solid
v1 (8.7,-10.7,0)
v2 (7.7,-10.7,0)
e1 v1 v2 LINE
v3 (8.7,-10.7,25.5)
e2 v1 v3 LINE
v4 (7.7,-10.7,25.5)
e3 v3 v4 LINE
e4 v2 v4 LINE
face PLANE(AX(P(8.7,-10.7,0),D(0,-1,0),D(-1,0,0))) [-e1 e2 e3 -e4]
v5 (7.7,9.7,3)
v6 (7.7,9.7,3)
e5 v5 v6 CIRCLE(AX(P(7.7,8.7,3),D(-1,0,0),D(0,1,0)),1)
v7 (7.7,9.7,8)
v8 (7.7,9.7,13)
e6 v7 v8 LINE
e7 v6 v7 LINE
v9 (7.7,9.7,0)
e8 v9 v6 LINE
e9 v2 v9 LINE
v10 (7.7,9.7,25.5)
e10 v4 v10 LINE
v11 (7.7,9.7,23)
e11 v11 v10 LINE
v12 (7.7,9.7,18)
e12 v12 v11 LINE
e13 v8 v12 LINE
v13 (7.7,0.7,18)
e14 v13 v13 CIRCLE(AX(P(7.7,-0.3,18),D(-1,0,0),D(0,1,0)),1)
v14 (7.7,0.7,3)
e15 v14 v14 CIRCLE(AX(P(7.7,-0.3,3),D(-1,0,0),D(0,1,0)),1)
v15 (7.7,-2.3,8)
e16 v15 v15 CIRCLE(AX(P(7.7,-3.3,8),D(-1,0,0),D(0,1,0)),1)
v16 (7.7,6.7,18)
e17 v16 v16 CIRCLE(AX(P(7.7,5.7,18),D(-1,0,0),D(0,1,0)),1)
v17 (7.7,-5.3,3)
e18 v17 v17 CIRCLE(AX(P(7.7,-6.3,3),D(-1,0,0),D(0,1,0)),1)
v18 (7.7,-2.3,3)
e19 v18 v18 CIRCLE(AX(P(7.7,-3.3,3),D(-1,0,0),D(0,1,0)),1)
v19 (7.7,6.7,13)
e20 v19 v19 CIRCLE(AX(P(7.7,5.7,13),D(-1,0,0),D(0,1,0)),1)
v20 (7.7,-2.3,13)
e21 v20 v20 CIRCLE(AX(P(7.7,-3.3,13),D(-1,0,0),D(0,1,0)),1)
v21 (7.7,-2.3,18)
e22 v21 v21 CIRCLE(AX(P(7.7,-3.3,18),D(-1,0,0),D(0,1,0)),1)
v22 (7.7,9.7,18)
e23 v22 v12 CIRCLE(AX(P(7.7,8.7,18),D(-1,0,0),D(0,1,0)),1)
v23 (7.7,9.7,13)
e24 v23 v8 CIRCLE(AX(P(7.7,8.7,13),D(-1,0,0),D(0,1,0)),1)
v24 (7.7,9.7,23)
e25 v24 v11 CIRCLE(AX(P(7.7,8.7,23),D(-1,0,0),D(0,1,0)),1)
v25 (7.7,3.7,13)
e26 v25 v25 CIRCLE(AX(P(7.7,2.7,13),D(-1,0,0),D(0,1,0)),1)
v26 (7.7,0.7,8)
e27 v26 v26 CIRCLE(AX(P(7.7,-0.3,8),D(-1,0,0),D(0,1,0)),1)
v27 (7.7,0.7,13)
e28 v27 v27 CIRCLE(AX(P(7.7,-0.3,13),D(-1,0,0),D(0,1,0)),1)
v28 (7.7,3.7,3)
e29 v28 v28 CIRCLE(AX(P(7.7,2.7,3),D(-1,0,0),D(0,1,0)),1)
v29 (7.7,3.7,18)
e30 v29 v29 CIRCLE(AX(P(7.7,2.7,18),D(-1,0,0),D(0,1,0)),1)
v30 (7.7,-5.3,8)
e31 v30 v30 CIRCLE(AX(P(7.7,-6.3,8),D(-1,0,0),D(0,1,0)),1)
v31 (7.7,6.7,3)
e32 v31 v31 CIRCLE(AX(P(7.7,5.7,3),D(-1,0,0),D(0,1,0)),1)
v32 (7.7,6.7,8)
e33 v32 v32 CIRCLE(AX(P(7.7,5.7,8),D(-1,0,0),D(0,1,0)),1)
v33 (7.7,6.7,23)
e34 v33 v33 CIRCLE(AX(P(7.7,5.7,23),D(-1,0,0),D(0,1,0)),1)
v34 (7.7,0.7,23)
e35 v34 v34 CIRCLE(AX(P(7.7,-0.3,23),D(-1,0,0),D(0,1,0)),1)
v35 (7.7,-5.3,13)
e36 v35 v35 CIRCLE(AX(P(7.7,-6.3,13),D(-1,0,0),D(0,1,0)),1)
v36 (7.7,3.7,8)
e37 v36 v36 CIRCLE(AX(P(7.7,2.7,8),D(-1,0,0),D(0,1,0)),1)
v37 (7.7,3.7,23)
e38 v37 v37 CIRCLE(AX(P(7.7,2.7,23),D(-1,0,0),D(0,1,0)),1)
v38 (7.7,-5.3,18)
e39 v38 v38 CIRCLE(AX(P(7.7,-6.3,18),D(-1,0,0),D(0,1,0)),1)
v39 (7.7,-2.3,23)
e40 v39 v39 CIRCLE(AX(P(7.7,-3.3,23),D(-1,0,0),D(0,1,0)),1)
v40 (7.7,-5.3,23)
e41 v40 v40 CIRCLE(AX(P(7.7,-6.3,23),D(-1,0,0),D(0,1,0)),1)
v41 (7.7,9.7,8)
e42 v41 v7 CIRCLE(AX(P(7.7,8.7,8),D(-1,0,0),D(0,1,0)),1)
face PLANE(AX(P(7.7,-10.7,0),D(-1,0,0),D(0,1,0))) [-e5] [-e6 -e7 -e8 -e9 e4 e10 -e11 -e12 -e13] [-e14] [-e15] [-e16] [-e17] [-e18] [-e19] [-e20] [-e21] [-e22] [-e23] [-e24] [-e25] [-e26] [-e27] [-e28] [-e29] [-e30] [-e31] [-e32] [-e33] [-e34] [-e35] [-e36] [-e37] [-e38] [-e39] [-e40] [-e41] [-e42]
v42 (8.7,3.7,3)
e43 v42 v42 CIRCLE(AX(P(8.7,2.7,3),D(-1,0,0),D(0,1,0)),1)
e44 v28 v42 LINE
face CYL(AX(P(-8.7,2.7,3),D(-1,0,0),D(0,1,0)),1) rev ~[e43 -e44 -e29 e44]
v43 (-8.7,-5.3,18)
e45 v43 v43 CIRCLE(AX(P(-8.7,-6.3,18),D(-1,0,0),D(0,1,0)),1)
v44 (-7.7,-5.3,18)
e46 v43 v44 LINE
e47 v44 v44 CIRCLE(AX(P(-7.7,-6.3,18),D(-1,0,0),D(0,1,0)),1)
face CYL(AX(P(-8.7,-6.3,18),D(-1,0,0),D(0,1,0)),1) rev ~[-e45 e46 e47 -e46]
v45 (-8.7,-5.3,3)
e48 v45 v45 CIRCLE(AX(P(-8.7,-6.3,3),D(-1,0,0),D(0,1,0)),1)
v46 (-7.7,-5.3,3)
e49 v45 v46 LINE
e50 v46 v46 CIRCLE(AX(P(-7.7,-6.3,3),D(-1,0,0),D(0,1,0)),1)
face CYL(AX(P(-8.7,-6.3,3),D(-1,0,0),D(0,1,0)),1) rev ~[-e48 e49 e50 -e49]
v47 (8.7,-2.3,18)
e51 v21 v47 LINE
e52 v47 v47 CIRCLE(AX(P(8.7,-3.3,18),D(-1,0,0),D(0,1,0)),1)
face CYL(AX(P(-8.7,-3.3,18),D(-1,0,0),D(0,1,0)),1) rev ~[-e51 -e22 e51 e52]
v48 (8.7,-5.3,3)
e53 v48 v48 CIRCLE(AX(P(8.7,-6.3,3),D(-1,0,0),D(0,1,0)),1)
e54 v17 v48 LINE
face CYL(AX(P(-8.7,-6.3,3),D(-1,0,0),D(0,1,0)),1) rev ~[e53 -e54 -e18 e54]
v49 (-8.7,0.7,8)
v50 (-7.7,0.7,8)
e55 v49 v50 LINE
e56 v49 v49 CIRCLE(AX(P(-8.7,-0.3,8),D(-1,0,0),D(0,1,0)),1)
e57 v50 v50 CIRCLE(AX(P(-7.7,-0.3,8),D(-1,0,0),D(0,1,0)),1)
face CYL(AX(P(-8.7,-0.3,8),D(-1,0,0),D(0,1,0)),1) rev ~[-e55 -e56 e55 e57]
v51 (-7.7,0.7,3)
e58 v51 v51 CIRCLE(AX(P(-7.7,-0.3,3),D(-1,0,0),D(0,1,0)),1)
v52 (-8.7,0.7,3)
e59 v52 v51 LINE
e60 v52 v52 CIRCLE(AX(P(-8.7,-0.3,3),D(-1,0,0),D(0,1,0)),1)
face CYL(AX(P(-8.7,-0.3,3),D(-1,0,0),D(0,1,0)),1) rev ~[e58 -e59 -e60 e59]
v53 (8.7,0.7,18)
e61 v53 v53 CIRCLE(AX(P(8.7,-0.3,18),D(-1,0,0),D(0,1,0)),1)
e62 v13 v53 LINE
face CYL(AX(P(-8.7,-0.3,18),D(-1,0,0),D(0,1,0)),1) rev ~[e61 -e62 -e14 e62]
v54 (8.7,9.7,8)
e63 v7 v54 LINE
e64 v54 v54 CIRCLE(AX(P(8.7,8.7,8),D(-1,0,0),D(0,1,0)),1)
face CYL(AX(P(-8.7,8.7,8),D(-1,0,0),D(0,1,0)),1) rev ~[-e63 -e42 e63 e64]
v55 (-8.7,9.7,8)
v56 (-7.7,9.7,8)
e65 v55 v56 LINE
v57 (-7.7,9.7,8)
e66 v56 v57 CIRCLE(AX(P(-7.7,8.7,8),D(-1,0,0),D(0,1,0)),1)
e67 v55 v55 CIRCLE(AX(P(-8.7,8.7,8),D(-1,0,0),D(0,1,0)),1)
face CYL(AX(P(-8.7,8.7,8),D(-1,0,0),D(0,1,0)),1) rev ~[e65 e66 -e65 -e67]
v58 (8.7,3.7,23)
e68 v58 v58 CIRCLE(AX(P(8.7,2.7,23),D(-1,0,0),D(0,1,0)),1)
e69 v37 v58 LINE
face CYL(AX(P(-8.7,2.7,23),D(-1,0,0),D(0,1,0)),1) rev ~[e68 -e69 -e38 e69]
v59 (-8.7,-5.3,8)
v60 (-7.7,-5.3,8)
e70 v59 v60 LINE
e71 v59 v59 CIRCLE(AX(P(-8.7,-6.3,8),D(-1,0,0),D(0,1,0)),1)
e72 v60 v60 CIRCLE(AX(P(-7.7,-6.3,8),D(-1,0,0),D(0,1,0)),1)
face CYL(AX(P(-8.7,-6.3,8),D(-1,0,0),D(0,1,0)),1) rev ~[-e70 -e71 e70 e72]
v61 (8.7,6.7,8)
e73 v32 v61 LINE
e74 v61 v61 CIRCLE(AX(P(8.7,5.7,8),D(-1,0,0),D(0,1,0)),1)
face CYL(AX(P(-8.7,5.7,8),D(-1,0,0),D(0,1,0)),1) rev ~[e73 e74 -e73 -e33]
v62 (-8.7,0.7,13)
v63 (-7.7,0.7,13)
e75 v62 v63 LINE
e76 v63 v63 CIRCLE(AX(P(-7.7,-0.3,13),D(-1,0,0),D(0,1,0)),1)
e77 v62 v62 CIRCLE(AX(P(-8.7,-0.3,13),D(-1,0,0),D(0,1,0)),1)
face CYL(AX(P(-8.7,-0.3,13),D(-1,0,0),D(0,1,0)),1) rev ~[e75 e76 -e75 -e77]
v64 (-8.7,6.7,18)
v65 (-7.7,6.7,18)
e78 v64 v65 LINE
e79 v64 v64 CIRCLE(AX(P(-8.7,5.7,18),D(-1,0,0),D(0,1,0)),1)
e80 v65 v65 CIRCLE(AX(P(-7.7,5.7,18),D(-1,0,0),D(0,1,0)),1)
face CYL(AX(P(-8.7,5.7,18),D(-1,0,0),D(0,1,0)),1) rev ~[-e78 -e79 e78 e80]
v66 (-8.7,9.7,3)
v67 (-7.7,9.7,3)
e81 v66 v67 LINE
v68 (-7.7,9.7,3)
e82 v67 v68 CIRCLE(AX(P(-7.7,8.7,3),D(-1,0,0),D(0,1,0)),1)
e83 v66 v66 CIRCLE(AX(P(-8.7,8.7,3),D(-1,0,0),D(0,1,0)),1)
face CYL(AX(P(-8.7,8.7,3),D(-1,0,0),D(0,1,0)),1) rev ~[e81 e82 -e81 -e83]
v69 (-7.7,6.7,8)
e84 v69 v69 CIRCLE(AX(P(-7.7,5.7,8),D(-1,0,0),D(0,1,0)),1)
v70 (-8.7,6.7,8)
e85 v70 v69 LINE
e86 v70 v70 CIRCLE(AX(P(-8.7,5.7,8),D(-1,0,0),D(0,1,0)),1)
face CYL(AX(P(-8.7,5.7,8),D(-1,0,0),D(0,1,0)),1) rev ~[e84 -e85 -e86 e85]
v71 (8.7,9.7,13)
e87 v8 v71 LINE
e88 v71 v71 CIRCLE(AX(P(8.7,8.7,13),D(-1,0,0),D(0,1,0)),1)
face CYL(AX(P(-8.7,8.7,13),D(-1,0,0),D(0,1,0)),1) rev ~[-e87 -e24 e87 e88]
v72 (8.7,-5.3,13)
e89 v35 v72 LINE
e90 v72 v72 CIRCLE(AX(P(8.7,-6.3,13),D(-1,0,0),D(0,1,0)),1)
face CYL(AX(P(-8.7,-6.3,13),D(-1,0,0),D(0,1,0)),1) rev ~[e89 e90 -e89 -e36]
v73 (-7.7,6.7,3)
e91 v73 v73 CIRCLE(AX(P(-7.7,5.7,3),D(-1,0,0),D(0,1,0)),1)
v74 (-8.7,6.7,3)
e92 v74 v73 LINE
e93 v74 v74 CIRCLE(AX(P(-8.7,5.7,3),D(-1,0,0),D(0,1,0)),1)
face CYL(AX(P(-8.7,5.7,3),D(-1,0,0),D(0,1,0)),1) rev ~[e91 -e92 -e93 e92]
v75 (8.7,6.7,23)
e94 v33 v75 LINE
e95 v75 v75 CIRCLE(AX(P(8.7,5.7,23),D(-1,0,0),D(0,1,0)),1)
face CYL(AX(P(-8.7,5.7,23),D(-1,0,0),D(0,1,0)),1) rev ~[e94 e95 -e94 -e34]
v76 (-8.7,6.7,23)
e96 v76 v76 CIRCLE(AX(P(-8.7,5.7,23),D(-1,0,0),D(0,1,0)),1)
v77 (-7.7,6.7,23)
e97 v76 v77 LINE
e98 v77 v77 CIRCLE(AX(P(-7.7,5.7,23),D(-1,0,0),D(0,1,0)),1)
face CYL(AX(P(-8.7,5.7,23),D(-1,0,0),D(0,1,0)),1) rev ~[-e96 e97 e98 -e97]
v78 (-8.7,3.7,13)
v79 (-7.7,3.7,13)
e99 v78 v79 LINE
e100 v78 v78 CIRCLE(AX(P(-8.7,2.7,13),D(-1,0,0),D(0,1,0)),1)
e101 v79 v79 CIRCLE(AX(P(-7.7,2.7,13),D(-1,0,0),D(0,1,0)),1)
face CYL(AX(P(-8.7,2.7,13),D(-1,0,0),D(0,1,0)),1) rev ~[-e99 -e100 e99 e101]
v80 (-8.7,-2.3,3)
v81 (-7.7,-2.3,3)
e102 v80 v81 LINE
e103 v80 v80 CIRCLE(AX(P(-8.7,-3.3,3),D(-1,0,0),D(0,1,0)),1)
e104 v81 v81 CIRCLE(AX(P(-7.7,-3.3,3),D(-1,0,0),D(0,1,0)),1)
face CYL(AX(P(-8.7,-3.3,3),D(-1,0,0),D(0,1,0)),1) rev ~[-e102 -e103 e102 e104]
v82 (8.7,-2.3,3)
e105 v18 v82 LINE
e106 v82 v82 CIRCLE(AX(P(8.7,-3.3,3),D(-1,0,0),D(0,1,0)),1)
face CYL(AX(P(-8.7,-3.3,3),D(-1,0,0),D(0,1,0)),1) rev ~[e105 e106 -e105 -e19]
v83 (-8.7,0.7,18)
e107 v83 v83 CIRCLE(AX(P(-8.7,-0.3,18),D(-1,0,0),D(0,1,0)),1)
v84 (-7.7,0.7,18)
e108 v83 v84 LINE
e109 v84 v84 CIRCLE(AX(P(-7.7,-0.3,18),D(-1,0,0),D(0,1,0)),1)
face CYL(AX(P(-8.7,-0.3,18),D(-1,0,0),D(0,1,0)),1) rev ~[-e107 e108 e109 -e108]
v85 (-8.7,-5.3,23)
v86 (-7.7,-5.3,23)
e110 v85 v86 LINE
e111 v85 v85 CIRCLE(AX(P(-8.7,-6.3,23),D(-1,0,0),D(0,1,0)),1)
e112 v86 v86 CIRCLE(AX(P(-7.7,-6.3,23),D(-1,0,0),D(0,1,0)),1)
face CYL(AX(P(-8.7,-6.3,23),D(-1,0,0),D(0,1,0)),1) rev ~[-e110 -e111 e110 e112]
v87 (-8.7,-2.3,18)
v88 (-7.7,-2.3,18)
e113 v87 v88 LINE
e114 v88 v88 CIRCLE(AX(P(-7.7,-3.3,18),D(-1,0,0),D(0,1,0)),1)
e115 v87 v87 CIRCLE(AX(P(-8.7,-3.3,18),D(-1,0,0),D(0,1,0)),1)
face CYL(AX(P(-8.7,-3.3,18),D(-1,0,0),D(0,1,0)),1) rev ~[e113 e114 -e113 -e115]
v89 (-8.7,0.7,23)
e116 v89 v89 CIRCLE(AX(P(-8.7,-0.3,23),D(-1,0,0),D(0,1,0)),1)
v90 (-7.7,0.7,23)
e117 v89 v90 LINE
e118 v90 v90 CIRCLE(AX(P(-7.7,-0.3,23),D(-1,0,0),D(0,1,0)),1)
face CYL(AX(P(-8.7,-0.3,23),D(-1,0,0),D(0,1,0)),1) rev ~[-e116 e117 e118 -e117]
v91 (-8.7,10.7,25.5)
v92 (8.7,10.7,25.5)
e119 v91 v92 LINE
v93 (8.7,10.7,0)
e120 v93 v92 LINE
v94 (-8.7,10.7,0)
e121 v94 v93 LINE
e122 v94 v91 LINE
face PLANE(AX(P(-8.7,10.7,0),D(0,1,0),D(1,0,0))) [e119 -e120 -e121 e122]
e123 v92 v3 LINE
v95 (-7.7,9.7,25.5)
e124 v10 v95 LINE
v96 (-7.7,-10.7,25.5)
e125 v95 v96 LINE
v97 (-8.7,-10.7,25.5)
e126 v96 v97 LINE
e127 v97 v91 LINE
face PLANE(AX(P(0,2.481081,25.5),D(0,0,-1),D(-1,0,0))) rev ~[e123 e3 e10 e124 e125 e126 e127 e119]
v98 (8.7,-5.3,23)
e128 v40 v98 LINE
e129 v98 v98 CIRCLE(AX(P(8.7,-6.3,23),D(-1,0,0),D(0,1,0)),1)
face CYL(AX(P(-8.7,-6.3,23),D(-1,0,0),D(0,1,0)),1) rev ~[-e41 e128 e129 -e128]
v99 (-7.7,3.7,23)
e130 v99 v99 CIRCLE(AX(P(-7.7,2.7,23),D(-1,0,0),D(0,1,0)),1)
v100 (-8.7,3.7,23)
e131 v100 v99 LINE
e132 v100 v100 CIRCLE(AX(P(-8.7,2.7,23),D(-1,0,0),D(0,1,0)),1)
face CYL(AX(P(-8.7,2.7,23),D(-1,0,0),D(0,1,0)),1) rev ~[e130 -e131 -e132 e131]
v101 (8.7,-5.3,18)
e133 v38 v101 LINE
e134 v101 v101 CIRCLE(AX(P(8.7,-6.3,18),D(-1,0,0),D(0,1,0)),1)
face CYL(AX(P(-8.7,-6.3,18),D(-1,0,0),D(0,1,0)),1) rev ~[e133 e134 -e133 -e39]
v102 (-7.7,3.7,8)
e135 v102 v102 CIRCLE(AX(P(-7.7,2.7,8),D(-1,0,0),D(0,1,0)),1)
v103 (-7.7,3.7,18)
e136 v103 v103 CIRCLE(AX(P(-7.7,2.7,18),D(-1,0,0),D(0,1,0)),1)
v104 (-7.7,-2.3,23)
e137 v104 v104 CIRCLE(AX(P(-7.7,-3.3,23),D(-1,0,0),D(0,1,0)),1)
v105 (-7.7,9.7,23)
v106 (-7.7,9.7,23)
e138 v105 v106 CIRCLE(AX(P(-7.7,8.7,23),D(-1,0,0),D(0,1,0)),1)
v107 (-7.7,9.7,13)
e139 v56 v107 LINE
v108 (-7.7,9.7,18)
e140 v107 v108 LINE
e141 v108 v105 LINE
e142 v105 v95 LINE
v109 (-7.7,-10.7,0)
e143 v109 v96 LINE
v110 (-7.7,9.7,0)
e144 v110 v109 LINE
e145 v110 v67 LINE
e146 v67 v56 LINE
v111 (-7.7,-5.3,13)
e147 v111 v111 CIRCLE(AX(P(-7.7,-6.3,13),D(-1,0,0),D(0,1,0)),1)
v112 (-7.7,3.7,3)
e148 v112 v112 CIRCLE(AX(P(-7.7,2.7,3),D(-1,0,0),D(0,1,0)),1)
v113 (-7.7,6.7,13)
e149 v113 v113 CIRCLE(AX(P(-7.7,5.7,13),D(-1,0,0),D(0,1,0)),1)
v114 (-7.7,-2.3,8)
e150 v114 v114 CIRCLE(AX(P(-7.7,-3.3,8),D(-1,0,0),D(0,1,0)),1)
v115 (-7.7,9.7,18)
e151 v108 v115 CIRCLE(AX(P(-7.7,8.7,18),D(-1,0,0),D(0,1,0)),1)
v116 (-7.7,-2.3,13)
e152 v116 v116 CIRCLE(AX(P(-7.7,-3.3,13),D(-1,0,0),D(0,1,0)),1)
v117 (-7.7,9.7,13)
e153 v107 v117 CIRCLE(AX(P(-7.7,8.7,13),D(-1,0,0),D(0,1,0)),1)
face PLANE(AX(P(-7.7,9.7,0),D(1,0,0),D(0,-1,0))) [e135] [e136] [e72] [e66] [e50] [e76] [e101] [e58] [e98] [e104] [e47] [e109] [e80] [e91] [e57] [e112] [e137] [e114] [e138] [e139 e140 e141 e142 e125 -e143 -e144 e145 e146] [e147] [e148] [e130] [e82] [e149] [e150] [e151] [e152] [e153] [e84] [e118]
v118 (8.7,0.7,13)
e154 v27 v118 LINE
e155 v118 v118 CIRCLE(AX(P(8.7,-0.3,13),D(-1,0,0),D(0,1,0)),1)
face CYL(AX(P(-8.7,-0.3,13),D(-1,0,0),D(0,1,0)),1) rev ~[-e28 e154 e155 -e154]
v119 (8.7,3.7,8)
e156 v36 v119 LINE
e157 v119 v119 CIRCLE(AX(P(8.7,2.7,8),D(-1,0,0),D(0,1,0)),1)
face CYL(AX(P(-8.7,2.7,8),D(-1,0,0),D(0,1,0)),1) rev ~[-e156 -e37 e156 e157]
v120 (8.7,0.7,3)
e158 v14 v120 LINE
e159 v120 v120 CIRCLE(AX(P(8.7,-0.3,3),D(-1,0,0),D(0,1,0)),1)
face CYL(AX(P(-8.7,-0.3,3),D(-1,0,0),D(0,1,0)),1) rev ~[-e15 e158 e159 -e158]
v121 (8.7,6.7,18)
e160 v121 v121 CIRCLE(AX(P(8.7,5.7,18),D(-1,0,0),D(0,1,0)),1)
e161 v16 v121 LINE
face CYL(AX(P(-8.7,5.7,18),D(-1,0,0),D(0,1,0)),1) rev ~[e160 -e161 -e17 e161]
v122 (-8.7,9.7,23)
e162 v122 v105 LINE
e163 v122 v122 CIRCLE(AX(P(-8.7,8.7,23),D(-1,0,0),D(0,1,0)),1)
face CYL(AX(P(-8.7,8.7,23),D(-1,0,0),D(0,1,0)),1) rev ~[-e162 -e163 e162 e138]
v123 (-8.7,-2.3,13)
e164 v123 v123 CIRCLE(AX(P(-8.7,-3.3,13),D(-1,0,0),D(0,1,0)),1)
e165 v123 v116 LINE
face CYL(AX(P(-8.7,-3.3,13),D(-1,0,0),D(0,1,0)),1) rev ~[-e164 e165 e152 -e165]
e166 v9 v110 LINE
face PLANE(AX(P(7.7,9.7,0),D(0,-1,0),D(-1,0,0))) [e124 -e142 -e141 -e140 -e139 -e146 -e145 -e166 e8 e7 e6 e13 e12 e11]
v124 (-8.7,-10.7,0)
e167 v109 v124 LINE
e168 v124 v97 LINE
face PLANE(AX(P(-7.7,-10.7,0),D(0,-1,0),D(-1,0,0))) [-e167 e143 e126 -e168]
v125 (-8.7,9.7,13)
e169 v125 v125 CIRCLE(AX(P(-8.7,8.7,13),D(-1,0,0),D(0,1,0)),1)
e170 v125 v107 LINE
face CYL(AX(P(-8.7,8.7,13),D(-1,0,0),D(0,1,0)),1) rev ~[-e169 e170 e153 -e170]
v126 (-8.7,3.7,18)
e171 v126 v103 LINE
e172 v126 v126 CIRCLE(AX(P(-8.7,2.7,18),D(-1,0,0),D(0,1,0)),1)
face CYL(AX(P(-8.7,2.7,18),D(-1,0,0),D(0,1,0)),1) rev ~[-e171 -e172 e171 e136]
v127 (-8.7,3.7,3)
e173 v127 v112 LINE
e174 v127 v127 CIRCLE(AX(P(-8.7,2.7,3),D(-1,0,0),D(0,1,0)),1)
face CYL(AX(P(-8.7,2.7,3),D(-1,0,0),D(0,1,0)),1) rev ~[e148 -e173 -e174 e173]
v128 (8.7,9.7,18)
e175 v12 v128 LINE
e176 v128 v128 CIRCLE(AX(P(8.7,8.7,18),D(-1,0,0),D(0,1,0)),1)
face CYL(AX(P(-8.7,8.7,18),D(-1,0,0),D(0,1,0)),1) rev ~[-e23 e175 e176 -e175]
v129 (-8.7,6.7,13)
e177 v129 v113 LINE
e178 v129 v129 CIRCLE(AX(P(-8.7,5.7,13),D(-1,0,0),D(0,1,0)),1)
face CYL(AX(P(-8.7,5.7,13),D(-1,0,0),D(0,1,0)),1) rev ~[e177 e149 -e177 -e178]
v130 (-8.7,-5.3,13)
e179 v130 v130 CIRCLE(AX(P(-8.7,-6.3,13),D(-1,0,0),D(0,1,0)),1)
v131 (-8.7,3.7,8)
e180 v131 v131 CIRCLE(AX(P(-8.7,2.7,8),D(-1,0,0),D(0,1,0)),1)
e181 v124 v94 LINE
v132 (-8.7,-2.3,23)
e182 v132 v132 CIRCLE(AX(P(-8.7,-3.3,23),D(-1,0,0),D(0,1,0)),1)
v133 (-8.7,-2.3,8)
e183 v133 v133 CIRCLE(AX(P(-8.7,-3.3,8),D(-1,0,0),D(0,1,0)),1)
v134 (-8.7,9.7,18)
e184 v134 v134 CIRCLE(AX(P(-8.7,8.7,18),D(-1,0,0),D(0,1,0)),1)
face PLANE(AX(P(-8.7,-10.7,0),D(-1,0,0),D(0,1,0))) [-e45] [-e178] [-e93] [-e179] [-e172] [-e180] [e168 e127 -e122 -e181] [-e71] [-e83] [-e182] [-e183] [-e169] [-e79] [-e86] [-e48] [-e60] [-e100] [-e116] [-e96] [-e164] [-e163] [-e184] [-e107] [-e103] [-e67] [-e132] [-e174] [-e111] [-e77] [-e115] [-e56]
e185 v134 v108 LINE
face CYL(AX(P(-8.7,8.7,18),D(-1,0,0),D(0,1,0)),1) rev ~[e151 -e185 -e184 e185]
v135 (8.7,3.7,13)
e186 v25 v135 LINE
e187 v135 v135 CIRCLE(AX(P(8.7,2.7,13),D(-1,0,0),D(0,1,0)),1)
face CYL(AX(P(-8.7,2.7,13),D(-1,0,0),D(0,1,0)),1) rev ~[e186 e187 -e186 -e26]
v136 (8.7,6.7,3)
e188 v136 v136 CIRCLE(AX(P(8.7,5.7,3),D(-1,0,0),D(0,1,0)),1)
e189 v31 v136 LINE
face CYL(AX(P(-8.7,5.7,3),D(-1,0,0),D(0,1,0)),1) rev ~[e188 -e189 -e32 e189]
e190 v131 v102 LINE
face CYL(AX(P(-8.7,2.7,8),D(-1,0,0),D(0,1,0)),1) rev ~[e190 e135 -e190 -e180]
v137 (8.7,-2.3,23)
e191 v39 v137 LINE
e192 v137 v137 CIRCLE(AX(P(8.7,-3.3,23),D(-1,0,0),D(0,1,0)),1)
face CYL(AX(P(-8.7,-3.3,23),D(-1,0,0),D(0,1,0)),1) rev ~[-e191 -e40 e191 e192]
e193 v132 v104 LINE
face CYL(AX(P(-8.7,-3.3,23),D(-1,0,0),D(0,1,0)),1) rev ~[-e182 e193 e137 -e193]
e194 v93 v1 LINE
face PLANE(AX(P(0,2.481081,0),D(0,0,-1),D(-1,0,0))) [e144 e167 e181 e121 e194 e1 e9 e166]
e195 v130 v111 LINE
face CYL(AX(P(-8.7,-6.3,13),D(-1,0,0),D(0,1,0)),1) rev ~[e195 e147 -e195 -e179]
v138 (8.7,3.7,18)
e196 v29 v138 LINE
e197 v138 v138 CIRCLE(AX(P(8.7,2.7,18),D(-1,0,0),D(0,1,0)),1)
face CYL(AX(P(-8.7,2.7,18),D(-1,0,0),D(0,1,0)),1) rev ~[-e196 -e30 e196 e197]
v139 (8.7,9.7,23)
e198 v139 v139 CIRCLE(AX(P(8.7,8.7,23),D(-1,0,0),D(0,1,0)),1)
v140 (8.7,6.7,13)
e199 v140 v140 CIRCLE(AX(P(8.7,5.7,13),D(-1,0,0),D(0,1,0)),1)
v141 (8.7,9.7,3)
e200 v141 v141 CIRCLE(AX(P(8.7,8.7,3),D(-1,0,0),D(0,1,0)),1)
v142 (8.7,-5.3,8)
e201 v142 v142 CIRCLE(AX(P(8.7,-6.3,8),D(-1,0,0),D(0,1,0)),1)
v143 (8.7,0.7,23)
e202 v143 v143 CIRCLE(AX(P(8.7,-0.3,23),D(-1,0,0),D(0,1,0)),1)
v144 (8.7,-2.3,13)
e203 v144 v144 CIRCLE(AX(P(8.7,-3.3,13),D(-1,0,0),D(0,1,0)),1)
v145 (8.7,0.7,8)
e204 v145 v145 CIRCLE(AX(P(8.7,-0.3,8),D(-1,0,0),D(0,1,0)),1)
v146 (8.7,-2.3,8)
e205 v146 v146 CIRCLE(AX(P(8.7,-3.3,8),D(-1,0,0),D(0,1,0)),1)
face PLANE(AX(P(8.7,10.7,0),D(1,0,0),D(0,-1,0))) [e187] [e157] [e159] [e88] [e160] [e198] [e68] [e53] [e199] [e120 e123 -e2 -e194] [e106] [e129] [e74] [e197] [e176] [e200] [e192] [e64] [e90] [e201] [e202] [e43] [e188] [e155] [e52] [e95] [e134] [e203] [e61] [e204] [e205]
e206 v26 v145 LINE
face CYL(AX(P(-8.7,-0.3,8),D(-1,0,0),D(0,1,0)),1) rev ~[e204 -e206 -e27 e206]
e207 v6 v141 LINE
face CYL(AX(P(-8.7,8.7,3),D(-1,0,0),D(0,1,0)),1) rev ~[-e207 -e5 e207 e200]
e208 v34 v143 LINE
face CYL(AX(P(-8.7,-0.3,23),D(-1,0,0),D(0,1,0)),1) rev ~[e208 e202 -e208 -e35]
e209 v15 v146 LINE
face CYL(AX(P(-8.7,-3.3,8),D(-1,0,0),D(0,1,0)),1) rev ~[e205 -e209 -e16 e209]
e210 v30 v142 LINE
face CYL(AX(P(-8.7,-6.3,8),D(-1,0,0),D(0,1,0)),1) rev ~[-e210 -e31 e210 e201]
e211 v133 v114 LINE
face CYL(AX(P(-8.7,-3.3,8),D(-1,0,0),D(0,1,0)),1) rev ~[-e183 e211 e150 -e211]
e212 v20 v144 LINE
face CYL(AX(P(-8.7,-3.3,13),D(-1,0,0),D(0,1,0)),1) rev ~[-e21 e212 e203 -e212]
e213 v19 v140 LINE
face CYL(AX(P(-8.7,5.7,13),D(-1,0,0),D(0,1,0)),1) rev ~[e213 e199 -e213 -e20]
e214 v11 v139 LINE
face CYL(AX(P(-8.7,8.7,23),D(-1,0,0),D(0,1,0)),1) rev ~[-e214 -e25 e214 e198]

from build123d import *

# Parameters (mm, degrees)
EXTRUDE_1_DEPTH                   = 25.5
SKETCH_2_R                        = 1
CUT_EXTRUDE_1_DEPTH               = 27
PATTERN_LINEAR_1_COUNT            = 6
PATTERN_LINEAR_1_PITCH            = 3
PATTERN_LINEAR_2_COUNT            = 6
PATTERN_LINEAR_2_PITCH            = 5
PATTERN_LINEAR_2_COPY_1_SKETCH_R  = 1
PATTERN_LINEAR_2_COPY_1_DEPTH     = 27
PATTERN_LINEAR_2_COPY_2_SKETCH_R  = 1
PATTERN_LINEAR_2_COPY_2_DEPTH     = 27
PATTERN_LINEAR_2_COPY_3_SKETCH_R  = 1
PATTERN_LINEAR_2_COPY_3_DEPTH     = 27
PATTERN_LINEAR_2_COPY_4_SKETCH_R  = 1
PATTERN_LINEAR_2_COPY_4_DEPTH     = 27
PATTERN_LINEAR_2_COPY_5_SKETCH_R  = 1
PATTERN_LINEAR_2_COPY_5_DEPTH     = 27
PATTERN_LINEAR_2_COPY_6_SKETCH_R  = 1
PATTERN_LINEAR_2_COPY_6_DEPTH     = 27
PATTERN_LINEAR_2_COPY_7_SKETCH_R  = 1
PATTERN_LINEAR_2_COPY_7_DEPTH     = 27
PATTERN_LINEAR_2_COPY_8_SKETCH_R  = 1
PATTERN_LINEAR_2_COPY_8_DEPTH     = 27
PATTERN_LINEAR_2_COPY_9_SKETCH_R  = 1
PATTERN_LINEAR_2_COPY_9_DEPTH     = 27
PATTERN_LINEAR_2_COPY_10_SKETCH_R = 1
PATTERN_LINEAR_2_COPY_10_DEPTH    = 27
PATTERN_LINEAR_2_COPY_11_SKETCH_R = 1
PATTERN_LINEAR_2_COPY_11_DEPTH    = 27
PATTERN_LINEAR_2_COPY_12_SKETCH_R = 1
PATTERN_LINEAR_2_COPY_12_DEPTH    = 27
PATTERN_LINEAR_2_COPY_13_SKETCH_R = 1
PATTERN_LINEAR_2_COPY_13_DEPTH    = 27
PATTERN_LINEAR_2_COPY_14_SKETCH_R = 1
PATTERN_LINEAR_2_COPY_14_DEPTH    = 27
PATTERN_LINEAR_2_COPY_15_SKETCH_R = 1
PATTERN_LINEAR_2_COPY_15_DEPTH    = 27
PATTERN_LINEAR_2_COPY_16_SKETCH_R = 1
PATTERN_LINEAR_2_COPY_16_DEPTH    = 27
PATTERN_LINEAR_2_COPY_17_SKETCH_R = 1
PATTERN_LINEAR_2_COPY_17_DEPTH    = 27
PATTERN_LINEAR_2_COPY_18_SKETCH_R = 1
PATTERN_LINEAR_2_COPY_18_DEPTH    = 27
PATTERN_LINEAR_2_COPY_19_SKETCH_R = 1
PATTERN_LINEAR_2_COPY_19_DEPTH    = 27
PATTERN_LINEAR_2_COPY_20_SKETCH_R = 1
PATTERN_LINEAR_2_COPY_20_DEPTH    = 27
PATTERN_LINEAR_2_COPY_21_SKETCH_R = 1
PATTERN_LINEAR_2_COPY_21_DEPTH    = 27
PATTERN_LINEAR_2_COPY_22_SKETCH_R = 1
PATTERN_LINEAR_2_COPY_22_DEPTH    = 27
PATTERN_LINEAR_2_COPY_23_SKETCH_R = 1
PATTERN_LINEAR_2_COPY_23_DEPTH    = 27
PATTERN_LINEAR_2_COPY_24_SKETCH_R = 1
PATTERN_LINEAR_2_COPY_24_DEPTH    = 27
PATTERN_LINEAR_2_COPY_25_SKETCH_R = 1
PATTERN_LINEAR_2_COPY_25_DEPTH    = 27


with BuildPart() as part:
    # 草图1 → 凸台-拉伸1 (new body)
    with BuildSketch(Plane.XY):
        Polygon((-8.7, 10.7), (8.7, 10.7), (8.7, -10.7), (7.7, -10.7), (7.7, 9.7), (-7.7, 9.7), (-7.7, -10.7), (-8.7, -10.7), align=None)
    extrude(amount=EXTRUDE_1_DEPTH)

    # 草图2 → 切除-拉伸1 (cut)
    with BuildSketch(Plane.ZY.offset(8.7)):
        with Locations(Location((3, 8.7, 0), (0, 0, 90))):
            Circle(SKETCH_2_R)
    cut_extrude_1 = extrude(amount=-CUT_EXTRUDE_1_DEPTH, mode=Mode.SUBTRACT)

    # 阵列(线性)1: 切除-拉伸1 ×6
    with Locations(*[(0, -i * PATTERN_LINEAR_1_PITCH, 0) for i in range(1, PATTERN_LINEAR_1_COUNT)]):
        add(cut_extrude_1, mode=Mode.SUBTRACT)

    # 阵列(线性)2: 切除-拉伸1 ×6
    with Locations(*[(0, 0, i * PATTERN_LINEAR_2_PITCH) for i in range(1, PATTERN_LINEAR_2_COUNT)]):
        add(cut_extrude_1, mode=Mode.SUBTRACT)

    # 阵列(线性)2 copy 1 sketch → 阵列(线性)2 copy 1 (cut)
    with BuildSketch(Plane(origin=(-8.7, -3, 5), x_dir=(0, 0, 1), z_dir=(-1, 0, 0))):
        with Locations(Location((3, 8.7, 0), (0, 0, 90))):
            Circle(PATTERN_LINEAR_2_COPY_1_SKETCH_R)
    extrude(amount=-PATTERN_LINEAR_2_COPY_1_DEPTH, mode=Mode.SUBTRACT)

    # 阵列(线性)2 copy 2 sketch → 阵列(线性)2 copy 2 (cut)
    with BuildSketch(Plane(origin=(-8.7, -3, 10), x_dir=(0, 0, 1), z_dir=(-1, 0, 0))):
        with Locations(Location((3, 8.7, 0), (0, 0, 90))):
            Circle(PATTERN_LINEAR_2_COPY_2_SKETCH_R)
    extrude(amount=-PATTERN_LINEAR_2_COPY_2_DEPTH, mode=Mode.SUBTRACT)

    # 阵列(线性)2 copy 3 sketch → 阵列(线性)2 copy 3 (cut)
    with BuildSketch(Plane(origin=(-8.7, -3, 15), x_dir=(0, 0, 1), z_dir=(-1, 0, 0))):
        with Locations(Location((3, 8.7, 0), (0, 0, 90))):
            Circle(PATTERN_LINEAR_2_COPY_3_SKETCH_R)
    extrude(amount=-PATTERN_LINEAR_2_COPY_3_DEPTH, mode=Mode.SUBTRACT)

    # 阵列(线性)2 copy 4 sketch → 阵列(线性)2 copy 4 (cut)
    with BuildSketch(Plane(origin=(-8.7, -3, 20), x_dir=(0, 0, 1), z_dir=(-1, 0, 0))):
        with Locations(Location((3, 8.7, 0), (0, 0, 90))):
            Circle(PATTERN_LINEAR_2_COPY_4_SKETCH_R)
    extrude(amount=-PATTERN_LINEAR_2_COPY_4_DEPTH, mode=Mode.SUBTRACT)

    # 阵列(线性)2 copy 5 sketch → 阵列(线性)2 copy 5 (cut)
    with BuildSketch(Plane(origin=(-8.7, -3, 25), x_dir=(0, 0, 1), z_dir=(-1, 0, 0))):
        with Locations(Location((3, 8.7, 0), (0, 0, 90))):
            Circle(PATTERN_LINEAR_2_COPY_5_SKETCH_R)
    extrude(amount=-PATTERN_LINEAR_2_COPY_5_DEPTH, mode=Mode.SUBTRACT)

    # 阵列(线性)2 copy 6 sketch → 阵列(线性)2 copy 6 (cut)
    with BuildSketch(Plane(origin=(-8.7, -6, 5), x_dir=(0, 0, 1), z_dir=(-1, 0, 0))):
        with Locations(Location((3, 8.7, 0), (0, 0, 90))):
            Circle(PATTERN_LINEAR_2_COPY_6_SKETCH_R)
    extrude(amount=-PATTERN_LINEAR_2_COPY_6_DEPTH, mode=Mode.SUBTRACT)

    # 阵列(线性)2 copy 7 sketch → 阵列(线性)2 copy 7 (cut)
    with BuildSketch(Plane(origin=(-8.7, -6, 10), x_dir=(0, 0, 1), z_dir=(-1, 0, 0))):
        with Locations(Location((3, 8.7, 0), (0, 0, 90))):
            Circle(PATTERN_LINEAR_2_COPY_7_SKETCH_R)
    extrude(amount=-PATTERN_LINEAR_2_COPY_7_DEPTH, mode=Mode.SUBTRACT)

    # 阵列(线性)2 copy 8 sketch → 阵列(线性)2 copy 8 (cut)
    with BuildSketch(Plane(origin=(-8.7, -6, 15), x_dir=(0, 0, 1), z_dir=(-1, 0, 0))):
        with Locations(Location((3, 8.7, 0), (0, 0, 90))):
            Circle(PATTERN_LINEAR_2_COPY_8_SKETCH_R)
    extrude(amount=-PATTERN_LINEAR_2_COPY_8_DEPTH, mode=Mode.SUBTRACT)

    # 阵列(线性)2 copy 9 sketch → 阵列(线性)2 copy 9 (cut)
    with BuildSketch(Plane(origin=(-8.7, -6, 20), x_dir=(0, 0, 1), z_dir=(-1, 0, 0))):
        with Locations(Location((3, 8.7, 0), (0, 0, 90))):
            Circle(PATTERN_LINEAR_2_COPY_9_SKETCH_R)
    extrude(amount=-PATTERN_LINEAR_2_COPY_9_DEPTH, mode=Mode.SUBTRACT)

    # 阵列(线性)2 copy 10 sketch → 阵列(线性)2 copy 10 (cut)
    with BuildSketch(Plane(origin=(-8.7, -6, 25), x_dir=(0, 0, 1), z_dir=(-1, 0, 0))):
        with Locations(Location((3, 8.7, 0), (0, 0, 90))):
            Circle(PATTERN_LINEAR_2_COPY_10_SKETCH_R)
    extrude(amount=-PATTERN_LINEAR_2_COPY_10_DEPTH, mode=Mode.SUBTRACT)

    # 阵列(线性)2 copy 11 sketch → 阵列(线性)2 copy 11 (cut)
    with BuildSketch(Plane(origin=(-8.7, -9, 5), x_dir=(0, 0, 1), z_dir=(-1, 0, 0))):
        with Locations(Location((3, 8.7, 0), (0, 0, 90))):
            Circle(PATTERN_LINEAR_2_COPY_11_SKETCH_R)
    extrude(amount=-PATTERN_LINEAR_2_COPY_11_DEPTH, mode=Mode.SUBTRACT)

    # 阵列(线性)2 copy 12 sketch → 阵列(线性)2 copy 12 (cut)
    with BuildSketch(Plane(origin=(-8.7, -9, 10), x_dir=(0, 0, 1), z_dir=(-1, 0, 0))):
        with Locations(Location((3, 8.7, 0), (0, 0, 90))):
            Circle(PATTERN_LINEAR_2_COPY_12_SKETCH_R)
    extrude(amount=-PATTERN_LINEAR_2_COPY_12_DEPTH, mode=Mode.SUBTRACT)

    # 阵列(线性)2 copy 13 sketch → 阵列(线性)2 copy 13 (cut)
    with BuildSketch(Plane(origin=(-8.7, -9, 15), x_dir=(0, 0, 1), z_dir=(-1, 0, 0))):
        with Locations(Location((3, 8.7, 0), (0, 0, 90))):
            Circle(PATTERN_LINEAR_2_COPY_13_SKETCH_R)
    extrude(amount=-PATTERN_LINEAR_2_COPY_13_DEPTH, mode=Mode.SUBTRACT)

    # 阵列(线性)2 copy 14 sketch → 阵列(线性)2 copy 14 (cut)
    with BuildSketch(Plane(origin=(-8.7, -9, 20), x_dir=(0, 0, 1), z_dir=(-1, 0, 0))):
        with Locations(Location((3, 8.7, 0), (0, 0, 90))):
            Circle(PATTERN_LINEAR_2_COPY_14_SKETCH_R)
    extrude(amount=-PATTERN_LINEAR_2_COPY_14_DEPTH, mode=Mode.SUBTRACT)

    # 阵列(线性)2 copy 15 sketch → 阵列(线性)2 copy 15 (cut)
    with BuildSketch(Plane(origin=(-8.7, -9, 25), x_dir=(0, 0, 1), z_dir=(-1, 0, 0))):
        with Locations(Location((3, 8.7, 0), (0, 0, 90))):
            Circle(PATTERN_LINEAR_2_COPY_15_SKETCH_R)
    extrude(amount=-PATTERN_LINEAR_2_COPY_15_DEPTH, mode=Mode.SUBTRACT)

    # 阵列(线性)2 copy 16 sketch → 阵列(线性)2 copy 16 (cut)
    with BuildSketch(Plane(origin=(-8.7, -12, 5), x_dir=(0, 0, 1), z_dir=(-1, 0, 0))):
        with Locations(Location((3, 8.7, 0), (0, 0, 90))):
            Circle(PATTERN_LINEAR_2_COPY_16_SKETCH_R)
    extrude(amount=-PATTERN_LINEAR_2_COPY_16_DEPTH, mode=Mode.SUBTRACT)

    # 阵列(线性)2 copy 17 sketch → 阵列(线性)2 copy 17 (cut)
    with BuildSketch(Plane(origin=(-8.7, -12, 10), x_dir=(0, 0, 1), z_dir=(-1, 0, 0))):
        with Locations(Location((3, 8.7, 0), (0, 0, 90))):
            Circle(PATTERN_LINEAR_2_COPY_17_SKETCH_R)
    extrude(amount=-PATTERN_LINEAR_2_COPY_17_DEPTH, mode=Mode.SUBTRACT)

    # 阵列(线性)2 copy 18 sketch → 阵列(线性)2 copy 18 (cut)
    with BuildSketch(Plane(origin=(-8.7, -12, 15), x_dir=(0, 0, 1), z_dir=(-1, 0, 0))):
        with Locations(Location((3, 8.7, 0), (0, 0, 90))):
            Circle(PATTERN_LINEAR_2_COPY_18_SKETCH_R)
    extrude(amount=-PATTERN_LINEAR_2_COPY_18_DEPTH, mode=Mode.SUBTRACT)

    # 阵列(线性)2 copy 19 sketch → 阵列(线性)2 copy 19 (cut)
    with BuildSketch(Plane(origin=(-8.7, -12, 20), x_dir=(0, 0, 1), z_dir=(-1, 0, 0))):
        with Locations(Location((3, 8.7, 0), (0, 0, 90))):
            Circle(PATTERN_LINEAR_2_COPY_19_SKETCH_R)
    extrude(amount=-PATTERN_LINEAR_2_COPY_19_DEPTH, mode=Mode.SUBTRACT)

    # 阵列(线性)2 copy 20 sketch → 阵列(线性)2 copy 20 (cut)
    with BuildSketch(Plane(origin=(-8.7, -12, 25), x_dir=(0, 0, 1), z_dir=(-1, 0, 0))):
        with Locations(Location((3, 8.7, 0), (0, 0, 90))):
            Circle(PATTERN_LINEAR_2_COPY_20_SKETCH_R)
    extrude(amount=-PATTERN_LINEAR_2_COPY_20_DEPTH, mode=Mode.SUBTRACT)

    # 阵列(线性)2 copy 21 sketch → 阵列(线性)2 copy 21 (cut)
    with BuildSketch(Plane(origin=(-8.7, -15, 5), x_dir=(0, 0, 1), z_dir=(-1, 0, 0))):
        with Locations(Location((3, 8.7, 0), (0, 0, 90))):
            Circle(PATTERN_LINEAR_2_COPY_21_SKETCH_R)
    extrude(amount=-PATTERN_LINEAR_2_COPY_21_DEPTH, mode=Mode.SUBTRACT)

    # 阵列(线性)2 copy 22 sketch → 阵列(线性)2 copy 22 (cut)
    with BuildSketch(Plane(origin=(-8.7, -15, 10), x_dir=(0, 0, 1), z_dir=(-1, 0, 0))):
        with Locations(Location((3, 8.7, 0), (0, 0, 90))):
            Circle(PATTERN_LINEAR_2_COPY_22_SKETCH_R)
    extrude(amount=-PATTERN_LINEAR_2_COPY_22_DEPTH, mode=Mode.SUBTRACT)

    # 阵列(线性)2 copy 23 sketch → 阵列(线性)2 copy 23 (cut)
    with BuildSketch(Plane(origin=(-8.7, -15, 15), x_dir=(0, 0, 1), z_dir=(-1, 0, 0))):
        with Locations(Location((3, 8.7, 0), (0, 0, 90))):
            Circle(PATTERN_LINEAR_2_COPY_23_SKETCH_R)
    extrude(amount=-PATTERN_LINEAR_2_COPY_23_DEPTH, mode=Mode.SUBTRACT)

    # 阵列(线性)2 copy 24 sketch → 阵列(线性)2 copy 24 (cut)
    with BuildSketch(Plane(origin=(-8.7, -15, 20), x_dir=(0, 0, 1), z_dir=(-1, 0, 0))):
        with Locations(Location((3, 8.7, 0), (0, 0, 90))):
            Circle(PATTERN_LINEAR_2_COPY_24_SKETCH_R)
    extrude(amount=-PATTERN_LINEAR_2_COPY_24_DEPTH, mode=Mode.SUBTRACT)

    # 阵列(线性)2 copy 25 sketch → 阵列(线性)2 copy 25 (cut)
    with BuildSketch(Plane(origin=(-8.7, -15, 25), x_dir=(0, 0, 1), z_dir=(-1, 0, 0))):
        with Locations(Location((3, 8.7, 0), (0, 0, 90))):
            Circle(PATTERN_LINEAR_2_COPY_25_SKETCH_R)
    extrude(amount=-PATTERN_LINEAR_2_COPY_25_DEPTH, mode=Mode.SUBTRACT)


solid = part.part
